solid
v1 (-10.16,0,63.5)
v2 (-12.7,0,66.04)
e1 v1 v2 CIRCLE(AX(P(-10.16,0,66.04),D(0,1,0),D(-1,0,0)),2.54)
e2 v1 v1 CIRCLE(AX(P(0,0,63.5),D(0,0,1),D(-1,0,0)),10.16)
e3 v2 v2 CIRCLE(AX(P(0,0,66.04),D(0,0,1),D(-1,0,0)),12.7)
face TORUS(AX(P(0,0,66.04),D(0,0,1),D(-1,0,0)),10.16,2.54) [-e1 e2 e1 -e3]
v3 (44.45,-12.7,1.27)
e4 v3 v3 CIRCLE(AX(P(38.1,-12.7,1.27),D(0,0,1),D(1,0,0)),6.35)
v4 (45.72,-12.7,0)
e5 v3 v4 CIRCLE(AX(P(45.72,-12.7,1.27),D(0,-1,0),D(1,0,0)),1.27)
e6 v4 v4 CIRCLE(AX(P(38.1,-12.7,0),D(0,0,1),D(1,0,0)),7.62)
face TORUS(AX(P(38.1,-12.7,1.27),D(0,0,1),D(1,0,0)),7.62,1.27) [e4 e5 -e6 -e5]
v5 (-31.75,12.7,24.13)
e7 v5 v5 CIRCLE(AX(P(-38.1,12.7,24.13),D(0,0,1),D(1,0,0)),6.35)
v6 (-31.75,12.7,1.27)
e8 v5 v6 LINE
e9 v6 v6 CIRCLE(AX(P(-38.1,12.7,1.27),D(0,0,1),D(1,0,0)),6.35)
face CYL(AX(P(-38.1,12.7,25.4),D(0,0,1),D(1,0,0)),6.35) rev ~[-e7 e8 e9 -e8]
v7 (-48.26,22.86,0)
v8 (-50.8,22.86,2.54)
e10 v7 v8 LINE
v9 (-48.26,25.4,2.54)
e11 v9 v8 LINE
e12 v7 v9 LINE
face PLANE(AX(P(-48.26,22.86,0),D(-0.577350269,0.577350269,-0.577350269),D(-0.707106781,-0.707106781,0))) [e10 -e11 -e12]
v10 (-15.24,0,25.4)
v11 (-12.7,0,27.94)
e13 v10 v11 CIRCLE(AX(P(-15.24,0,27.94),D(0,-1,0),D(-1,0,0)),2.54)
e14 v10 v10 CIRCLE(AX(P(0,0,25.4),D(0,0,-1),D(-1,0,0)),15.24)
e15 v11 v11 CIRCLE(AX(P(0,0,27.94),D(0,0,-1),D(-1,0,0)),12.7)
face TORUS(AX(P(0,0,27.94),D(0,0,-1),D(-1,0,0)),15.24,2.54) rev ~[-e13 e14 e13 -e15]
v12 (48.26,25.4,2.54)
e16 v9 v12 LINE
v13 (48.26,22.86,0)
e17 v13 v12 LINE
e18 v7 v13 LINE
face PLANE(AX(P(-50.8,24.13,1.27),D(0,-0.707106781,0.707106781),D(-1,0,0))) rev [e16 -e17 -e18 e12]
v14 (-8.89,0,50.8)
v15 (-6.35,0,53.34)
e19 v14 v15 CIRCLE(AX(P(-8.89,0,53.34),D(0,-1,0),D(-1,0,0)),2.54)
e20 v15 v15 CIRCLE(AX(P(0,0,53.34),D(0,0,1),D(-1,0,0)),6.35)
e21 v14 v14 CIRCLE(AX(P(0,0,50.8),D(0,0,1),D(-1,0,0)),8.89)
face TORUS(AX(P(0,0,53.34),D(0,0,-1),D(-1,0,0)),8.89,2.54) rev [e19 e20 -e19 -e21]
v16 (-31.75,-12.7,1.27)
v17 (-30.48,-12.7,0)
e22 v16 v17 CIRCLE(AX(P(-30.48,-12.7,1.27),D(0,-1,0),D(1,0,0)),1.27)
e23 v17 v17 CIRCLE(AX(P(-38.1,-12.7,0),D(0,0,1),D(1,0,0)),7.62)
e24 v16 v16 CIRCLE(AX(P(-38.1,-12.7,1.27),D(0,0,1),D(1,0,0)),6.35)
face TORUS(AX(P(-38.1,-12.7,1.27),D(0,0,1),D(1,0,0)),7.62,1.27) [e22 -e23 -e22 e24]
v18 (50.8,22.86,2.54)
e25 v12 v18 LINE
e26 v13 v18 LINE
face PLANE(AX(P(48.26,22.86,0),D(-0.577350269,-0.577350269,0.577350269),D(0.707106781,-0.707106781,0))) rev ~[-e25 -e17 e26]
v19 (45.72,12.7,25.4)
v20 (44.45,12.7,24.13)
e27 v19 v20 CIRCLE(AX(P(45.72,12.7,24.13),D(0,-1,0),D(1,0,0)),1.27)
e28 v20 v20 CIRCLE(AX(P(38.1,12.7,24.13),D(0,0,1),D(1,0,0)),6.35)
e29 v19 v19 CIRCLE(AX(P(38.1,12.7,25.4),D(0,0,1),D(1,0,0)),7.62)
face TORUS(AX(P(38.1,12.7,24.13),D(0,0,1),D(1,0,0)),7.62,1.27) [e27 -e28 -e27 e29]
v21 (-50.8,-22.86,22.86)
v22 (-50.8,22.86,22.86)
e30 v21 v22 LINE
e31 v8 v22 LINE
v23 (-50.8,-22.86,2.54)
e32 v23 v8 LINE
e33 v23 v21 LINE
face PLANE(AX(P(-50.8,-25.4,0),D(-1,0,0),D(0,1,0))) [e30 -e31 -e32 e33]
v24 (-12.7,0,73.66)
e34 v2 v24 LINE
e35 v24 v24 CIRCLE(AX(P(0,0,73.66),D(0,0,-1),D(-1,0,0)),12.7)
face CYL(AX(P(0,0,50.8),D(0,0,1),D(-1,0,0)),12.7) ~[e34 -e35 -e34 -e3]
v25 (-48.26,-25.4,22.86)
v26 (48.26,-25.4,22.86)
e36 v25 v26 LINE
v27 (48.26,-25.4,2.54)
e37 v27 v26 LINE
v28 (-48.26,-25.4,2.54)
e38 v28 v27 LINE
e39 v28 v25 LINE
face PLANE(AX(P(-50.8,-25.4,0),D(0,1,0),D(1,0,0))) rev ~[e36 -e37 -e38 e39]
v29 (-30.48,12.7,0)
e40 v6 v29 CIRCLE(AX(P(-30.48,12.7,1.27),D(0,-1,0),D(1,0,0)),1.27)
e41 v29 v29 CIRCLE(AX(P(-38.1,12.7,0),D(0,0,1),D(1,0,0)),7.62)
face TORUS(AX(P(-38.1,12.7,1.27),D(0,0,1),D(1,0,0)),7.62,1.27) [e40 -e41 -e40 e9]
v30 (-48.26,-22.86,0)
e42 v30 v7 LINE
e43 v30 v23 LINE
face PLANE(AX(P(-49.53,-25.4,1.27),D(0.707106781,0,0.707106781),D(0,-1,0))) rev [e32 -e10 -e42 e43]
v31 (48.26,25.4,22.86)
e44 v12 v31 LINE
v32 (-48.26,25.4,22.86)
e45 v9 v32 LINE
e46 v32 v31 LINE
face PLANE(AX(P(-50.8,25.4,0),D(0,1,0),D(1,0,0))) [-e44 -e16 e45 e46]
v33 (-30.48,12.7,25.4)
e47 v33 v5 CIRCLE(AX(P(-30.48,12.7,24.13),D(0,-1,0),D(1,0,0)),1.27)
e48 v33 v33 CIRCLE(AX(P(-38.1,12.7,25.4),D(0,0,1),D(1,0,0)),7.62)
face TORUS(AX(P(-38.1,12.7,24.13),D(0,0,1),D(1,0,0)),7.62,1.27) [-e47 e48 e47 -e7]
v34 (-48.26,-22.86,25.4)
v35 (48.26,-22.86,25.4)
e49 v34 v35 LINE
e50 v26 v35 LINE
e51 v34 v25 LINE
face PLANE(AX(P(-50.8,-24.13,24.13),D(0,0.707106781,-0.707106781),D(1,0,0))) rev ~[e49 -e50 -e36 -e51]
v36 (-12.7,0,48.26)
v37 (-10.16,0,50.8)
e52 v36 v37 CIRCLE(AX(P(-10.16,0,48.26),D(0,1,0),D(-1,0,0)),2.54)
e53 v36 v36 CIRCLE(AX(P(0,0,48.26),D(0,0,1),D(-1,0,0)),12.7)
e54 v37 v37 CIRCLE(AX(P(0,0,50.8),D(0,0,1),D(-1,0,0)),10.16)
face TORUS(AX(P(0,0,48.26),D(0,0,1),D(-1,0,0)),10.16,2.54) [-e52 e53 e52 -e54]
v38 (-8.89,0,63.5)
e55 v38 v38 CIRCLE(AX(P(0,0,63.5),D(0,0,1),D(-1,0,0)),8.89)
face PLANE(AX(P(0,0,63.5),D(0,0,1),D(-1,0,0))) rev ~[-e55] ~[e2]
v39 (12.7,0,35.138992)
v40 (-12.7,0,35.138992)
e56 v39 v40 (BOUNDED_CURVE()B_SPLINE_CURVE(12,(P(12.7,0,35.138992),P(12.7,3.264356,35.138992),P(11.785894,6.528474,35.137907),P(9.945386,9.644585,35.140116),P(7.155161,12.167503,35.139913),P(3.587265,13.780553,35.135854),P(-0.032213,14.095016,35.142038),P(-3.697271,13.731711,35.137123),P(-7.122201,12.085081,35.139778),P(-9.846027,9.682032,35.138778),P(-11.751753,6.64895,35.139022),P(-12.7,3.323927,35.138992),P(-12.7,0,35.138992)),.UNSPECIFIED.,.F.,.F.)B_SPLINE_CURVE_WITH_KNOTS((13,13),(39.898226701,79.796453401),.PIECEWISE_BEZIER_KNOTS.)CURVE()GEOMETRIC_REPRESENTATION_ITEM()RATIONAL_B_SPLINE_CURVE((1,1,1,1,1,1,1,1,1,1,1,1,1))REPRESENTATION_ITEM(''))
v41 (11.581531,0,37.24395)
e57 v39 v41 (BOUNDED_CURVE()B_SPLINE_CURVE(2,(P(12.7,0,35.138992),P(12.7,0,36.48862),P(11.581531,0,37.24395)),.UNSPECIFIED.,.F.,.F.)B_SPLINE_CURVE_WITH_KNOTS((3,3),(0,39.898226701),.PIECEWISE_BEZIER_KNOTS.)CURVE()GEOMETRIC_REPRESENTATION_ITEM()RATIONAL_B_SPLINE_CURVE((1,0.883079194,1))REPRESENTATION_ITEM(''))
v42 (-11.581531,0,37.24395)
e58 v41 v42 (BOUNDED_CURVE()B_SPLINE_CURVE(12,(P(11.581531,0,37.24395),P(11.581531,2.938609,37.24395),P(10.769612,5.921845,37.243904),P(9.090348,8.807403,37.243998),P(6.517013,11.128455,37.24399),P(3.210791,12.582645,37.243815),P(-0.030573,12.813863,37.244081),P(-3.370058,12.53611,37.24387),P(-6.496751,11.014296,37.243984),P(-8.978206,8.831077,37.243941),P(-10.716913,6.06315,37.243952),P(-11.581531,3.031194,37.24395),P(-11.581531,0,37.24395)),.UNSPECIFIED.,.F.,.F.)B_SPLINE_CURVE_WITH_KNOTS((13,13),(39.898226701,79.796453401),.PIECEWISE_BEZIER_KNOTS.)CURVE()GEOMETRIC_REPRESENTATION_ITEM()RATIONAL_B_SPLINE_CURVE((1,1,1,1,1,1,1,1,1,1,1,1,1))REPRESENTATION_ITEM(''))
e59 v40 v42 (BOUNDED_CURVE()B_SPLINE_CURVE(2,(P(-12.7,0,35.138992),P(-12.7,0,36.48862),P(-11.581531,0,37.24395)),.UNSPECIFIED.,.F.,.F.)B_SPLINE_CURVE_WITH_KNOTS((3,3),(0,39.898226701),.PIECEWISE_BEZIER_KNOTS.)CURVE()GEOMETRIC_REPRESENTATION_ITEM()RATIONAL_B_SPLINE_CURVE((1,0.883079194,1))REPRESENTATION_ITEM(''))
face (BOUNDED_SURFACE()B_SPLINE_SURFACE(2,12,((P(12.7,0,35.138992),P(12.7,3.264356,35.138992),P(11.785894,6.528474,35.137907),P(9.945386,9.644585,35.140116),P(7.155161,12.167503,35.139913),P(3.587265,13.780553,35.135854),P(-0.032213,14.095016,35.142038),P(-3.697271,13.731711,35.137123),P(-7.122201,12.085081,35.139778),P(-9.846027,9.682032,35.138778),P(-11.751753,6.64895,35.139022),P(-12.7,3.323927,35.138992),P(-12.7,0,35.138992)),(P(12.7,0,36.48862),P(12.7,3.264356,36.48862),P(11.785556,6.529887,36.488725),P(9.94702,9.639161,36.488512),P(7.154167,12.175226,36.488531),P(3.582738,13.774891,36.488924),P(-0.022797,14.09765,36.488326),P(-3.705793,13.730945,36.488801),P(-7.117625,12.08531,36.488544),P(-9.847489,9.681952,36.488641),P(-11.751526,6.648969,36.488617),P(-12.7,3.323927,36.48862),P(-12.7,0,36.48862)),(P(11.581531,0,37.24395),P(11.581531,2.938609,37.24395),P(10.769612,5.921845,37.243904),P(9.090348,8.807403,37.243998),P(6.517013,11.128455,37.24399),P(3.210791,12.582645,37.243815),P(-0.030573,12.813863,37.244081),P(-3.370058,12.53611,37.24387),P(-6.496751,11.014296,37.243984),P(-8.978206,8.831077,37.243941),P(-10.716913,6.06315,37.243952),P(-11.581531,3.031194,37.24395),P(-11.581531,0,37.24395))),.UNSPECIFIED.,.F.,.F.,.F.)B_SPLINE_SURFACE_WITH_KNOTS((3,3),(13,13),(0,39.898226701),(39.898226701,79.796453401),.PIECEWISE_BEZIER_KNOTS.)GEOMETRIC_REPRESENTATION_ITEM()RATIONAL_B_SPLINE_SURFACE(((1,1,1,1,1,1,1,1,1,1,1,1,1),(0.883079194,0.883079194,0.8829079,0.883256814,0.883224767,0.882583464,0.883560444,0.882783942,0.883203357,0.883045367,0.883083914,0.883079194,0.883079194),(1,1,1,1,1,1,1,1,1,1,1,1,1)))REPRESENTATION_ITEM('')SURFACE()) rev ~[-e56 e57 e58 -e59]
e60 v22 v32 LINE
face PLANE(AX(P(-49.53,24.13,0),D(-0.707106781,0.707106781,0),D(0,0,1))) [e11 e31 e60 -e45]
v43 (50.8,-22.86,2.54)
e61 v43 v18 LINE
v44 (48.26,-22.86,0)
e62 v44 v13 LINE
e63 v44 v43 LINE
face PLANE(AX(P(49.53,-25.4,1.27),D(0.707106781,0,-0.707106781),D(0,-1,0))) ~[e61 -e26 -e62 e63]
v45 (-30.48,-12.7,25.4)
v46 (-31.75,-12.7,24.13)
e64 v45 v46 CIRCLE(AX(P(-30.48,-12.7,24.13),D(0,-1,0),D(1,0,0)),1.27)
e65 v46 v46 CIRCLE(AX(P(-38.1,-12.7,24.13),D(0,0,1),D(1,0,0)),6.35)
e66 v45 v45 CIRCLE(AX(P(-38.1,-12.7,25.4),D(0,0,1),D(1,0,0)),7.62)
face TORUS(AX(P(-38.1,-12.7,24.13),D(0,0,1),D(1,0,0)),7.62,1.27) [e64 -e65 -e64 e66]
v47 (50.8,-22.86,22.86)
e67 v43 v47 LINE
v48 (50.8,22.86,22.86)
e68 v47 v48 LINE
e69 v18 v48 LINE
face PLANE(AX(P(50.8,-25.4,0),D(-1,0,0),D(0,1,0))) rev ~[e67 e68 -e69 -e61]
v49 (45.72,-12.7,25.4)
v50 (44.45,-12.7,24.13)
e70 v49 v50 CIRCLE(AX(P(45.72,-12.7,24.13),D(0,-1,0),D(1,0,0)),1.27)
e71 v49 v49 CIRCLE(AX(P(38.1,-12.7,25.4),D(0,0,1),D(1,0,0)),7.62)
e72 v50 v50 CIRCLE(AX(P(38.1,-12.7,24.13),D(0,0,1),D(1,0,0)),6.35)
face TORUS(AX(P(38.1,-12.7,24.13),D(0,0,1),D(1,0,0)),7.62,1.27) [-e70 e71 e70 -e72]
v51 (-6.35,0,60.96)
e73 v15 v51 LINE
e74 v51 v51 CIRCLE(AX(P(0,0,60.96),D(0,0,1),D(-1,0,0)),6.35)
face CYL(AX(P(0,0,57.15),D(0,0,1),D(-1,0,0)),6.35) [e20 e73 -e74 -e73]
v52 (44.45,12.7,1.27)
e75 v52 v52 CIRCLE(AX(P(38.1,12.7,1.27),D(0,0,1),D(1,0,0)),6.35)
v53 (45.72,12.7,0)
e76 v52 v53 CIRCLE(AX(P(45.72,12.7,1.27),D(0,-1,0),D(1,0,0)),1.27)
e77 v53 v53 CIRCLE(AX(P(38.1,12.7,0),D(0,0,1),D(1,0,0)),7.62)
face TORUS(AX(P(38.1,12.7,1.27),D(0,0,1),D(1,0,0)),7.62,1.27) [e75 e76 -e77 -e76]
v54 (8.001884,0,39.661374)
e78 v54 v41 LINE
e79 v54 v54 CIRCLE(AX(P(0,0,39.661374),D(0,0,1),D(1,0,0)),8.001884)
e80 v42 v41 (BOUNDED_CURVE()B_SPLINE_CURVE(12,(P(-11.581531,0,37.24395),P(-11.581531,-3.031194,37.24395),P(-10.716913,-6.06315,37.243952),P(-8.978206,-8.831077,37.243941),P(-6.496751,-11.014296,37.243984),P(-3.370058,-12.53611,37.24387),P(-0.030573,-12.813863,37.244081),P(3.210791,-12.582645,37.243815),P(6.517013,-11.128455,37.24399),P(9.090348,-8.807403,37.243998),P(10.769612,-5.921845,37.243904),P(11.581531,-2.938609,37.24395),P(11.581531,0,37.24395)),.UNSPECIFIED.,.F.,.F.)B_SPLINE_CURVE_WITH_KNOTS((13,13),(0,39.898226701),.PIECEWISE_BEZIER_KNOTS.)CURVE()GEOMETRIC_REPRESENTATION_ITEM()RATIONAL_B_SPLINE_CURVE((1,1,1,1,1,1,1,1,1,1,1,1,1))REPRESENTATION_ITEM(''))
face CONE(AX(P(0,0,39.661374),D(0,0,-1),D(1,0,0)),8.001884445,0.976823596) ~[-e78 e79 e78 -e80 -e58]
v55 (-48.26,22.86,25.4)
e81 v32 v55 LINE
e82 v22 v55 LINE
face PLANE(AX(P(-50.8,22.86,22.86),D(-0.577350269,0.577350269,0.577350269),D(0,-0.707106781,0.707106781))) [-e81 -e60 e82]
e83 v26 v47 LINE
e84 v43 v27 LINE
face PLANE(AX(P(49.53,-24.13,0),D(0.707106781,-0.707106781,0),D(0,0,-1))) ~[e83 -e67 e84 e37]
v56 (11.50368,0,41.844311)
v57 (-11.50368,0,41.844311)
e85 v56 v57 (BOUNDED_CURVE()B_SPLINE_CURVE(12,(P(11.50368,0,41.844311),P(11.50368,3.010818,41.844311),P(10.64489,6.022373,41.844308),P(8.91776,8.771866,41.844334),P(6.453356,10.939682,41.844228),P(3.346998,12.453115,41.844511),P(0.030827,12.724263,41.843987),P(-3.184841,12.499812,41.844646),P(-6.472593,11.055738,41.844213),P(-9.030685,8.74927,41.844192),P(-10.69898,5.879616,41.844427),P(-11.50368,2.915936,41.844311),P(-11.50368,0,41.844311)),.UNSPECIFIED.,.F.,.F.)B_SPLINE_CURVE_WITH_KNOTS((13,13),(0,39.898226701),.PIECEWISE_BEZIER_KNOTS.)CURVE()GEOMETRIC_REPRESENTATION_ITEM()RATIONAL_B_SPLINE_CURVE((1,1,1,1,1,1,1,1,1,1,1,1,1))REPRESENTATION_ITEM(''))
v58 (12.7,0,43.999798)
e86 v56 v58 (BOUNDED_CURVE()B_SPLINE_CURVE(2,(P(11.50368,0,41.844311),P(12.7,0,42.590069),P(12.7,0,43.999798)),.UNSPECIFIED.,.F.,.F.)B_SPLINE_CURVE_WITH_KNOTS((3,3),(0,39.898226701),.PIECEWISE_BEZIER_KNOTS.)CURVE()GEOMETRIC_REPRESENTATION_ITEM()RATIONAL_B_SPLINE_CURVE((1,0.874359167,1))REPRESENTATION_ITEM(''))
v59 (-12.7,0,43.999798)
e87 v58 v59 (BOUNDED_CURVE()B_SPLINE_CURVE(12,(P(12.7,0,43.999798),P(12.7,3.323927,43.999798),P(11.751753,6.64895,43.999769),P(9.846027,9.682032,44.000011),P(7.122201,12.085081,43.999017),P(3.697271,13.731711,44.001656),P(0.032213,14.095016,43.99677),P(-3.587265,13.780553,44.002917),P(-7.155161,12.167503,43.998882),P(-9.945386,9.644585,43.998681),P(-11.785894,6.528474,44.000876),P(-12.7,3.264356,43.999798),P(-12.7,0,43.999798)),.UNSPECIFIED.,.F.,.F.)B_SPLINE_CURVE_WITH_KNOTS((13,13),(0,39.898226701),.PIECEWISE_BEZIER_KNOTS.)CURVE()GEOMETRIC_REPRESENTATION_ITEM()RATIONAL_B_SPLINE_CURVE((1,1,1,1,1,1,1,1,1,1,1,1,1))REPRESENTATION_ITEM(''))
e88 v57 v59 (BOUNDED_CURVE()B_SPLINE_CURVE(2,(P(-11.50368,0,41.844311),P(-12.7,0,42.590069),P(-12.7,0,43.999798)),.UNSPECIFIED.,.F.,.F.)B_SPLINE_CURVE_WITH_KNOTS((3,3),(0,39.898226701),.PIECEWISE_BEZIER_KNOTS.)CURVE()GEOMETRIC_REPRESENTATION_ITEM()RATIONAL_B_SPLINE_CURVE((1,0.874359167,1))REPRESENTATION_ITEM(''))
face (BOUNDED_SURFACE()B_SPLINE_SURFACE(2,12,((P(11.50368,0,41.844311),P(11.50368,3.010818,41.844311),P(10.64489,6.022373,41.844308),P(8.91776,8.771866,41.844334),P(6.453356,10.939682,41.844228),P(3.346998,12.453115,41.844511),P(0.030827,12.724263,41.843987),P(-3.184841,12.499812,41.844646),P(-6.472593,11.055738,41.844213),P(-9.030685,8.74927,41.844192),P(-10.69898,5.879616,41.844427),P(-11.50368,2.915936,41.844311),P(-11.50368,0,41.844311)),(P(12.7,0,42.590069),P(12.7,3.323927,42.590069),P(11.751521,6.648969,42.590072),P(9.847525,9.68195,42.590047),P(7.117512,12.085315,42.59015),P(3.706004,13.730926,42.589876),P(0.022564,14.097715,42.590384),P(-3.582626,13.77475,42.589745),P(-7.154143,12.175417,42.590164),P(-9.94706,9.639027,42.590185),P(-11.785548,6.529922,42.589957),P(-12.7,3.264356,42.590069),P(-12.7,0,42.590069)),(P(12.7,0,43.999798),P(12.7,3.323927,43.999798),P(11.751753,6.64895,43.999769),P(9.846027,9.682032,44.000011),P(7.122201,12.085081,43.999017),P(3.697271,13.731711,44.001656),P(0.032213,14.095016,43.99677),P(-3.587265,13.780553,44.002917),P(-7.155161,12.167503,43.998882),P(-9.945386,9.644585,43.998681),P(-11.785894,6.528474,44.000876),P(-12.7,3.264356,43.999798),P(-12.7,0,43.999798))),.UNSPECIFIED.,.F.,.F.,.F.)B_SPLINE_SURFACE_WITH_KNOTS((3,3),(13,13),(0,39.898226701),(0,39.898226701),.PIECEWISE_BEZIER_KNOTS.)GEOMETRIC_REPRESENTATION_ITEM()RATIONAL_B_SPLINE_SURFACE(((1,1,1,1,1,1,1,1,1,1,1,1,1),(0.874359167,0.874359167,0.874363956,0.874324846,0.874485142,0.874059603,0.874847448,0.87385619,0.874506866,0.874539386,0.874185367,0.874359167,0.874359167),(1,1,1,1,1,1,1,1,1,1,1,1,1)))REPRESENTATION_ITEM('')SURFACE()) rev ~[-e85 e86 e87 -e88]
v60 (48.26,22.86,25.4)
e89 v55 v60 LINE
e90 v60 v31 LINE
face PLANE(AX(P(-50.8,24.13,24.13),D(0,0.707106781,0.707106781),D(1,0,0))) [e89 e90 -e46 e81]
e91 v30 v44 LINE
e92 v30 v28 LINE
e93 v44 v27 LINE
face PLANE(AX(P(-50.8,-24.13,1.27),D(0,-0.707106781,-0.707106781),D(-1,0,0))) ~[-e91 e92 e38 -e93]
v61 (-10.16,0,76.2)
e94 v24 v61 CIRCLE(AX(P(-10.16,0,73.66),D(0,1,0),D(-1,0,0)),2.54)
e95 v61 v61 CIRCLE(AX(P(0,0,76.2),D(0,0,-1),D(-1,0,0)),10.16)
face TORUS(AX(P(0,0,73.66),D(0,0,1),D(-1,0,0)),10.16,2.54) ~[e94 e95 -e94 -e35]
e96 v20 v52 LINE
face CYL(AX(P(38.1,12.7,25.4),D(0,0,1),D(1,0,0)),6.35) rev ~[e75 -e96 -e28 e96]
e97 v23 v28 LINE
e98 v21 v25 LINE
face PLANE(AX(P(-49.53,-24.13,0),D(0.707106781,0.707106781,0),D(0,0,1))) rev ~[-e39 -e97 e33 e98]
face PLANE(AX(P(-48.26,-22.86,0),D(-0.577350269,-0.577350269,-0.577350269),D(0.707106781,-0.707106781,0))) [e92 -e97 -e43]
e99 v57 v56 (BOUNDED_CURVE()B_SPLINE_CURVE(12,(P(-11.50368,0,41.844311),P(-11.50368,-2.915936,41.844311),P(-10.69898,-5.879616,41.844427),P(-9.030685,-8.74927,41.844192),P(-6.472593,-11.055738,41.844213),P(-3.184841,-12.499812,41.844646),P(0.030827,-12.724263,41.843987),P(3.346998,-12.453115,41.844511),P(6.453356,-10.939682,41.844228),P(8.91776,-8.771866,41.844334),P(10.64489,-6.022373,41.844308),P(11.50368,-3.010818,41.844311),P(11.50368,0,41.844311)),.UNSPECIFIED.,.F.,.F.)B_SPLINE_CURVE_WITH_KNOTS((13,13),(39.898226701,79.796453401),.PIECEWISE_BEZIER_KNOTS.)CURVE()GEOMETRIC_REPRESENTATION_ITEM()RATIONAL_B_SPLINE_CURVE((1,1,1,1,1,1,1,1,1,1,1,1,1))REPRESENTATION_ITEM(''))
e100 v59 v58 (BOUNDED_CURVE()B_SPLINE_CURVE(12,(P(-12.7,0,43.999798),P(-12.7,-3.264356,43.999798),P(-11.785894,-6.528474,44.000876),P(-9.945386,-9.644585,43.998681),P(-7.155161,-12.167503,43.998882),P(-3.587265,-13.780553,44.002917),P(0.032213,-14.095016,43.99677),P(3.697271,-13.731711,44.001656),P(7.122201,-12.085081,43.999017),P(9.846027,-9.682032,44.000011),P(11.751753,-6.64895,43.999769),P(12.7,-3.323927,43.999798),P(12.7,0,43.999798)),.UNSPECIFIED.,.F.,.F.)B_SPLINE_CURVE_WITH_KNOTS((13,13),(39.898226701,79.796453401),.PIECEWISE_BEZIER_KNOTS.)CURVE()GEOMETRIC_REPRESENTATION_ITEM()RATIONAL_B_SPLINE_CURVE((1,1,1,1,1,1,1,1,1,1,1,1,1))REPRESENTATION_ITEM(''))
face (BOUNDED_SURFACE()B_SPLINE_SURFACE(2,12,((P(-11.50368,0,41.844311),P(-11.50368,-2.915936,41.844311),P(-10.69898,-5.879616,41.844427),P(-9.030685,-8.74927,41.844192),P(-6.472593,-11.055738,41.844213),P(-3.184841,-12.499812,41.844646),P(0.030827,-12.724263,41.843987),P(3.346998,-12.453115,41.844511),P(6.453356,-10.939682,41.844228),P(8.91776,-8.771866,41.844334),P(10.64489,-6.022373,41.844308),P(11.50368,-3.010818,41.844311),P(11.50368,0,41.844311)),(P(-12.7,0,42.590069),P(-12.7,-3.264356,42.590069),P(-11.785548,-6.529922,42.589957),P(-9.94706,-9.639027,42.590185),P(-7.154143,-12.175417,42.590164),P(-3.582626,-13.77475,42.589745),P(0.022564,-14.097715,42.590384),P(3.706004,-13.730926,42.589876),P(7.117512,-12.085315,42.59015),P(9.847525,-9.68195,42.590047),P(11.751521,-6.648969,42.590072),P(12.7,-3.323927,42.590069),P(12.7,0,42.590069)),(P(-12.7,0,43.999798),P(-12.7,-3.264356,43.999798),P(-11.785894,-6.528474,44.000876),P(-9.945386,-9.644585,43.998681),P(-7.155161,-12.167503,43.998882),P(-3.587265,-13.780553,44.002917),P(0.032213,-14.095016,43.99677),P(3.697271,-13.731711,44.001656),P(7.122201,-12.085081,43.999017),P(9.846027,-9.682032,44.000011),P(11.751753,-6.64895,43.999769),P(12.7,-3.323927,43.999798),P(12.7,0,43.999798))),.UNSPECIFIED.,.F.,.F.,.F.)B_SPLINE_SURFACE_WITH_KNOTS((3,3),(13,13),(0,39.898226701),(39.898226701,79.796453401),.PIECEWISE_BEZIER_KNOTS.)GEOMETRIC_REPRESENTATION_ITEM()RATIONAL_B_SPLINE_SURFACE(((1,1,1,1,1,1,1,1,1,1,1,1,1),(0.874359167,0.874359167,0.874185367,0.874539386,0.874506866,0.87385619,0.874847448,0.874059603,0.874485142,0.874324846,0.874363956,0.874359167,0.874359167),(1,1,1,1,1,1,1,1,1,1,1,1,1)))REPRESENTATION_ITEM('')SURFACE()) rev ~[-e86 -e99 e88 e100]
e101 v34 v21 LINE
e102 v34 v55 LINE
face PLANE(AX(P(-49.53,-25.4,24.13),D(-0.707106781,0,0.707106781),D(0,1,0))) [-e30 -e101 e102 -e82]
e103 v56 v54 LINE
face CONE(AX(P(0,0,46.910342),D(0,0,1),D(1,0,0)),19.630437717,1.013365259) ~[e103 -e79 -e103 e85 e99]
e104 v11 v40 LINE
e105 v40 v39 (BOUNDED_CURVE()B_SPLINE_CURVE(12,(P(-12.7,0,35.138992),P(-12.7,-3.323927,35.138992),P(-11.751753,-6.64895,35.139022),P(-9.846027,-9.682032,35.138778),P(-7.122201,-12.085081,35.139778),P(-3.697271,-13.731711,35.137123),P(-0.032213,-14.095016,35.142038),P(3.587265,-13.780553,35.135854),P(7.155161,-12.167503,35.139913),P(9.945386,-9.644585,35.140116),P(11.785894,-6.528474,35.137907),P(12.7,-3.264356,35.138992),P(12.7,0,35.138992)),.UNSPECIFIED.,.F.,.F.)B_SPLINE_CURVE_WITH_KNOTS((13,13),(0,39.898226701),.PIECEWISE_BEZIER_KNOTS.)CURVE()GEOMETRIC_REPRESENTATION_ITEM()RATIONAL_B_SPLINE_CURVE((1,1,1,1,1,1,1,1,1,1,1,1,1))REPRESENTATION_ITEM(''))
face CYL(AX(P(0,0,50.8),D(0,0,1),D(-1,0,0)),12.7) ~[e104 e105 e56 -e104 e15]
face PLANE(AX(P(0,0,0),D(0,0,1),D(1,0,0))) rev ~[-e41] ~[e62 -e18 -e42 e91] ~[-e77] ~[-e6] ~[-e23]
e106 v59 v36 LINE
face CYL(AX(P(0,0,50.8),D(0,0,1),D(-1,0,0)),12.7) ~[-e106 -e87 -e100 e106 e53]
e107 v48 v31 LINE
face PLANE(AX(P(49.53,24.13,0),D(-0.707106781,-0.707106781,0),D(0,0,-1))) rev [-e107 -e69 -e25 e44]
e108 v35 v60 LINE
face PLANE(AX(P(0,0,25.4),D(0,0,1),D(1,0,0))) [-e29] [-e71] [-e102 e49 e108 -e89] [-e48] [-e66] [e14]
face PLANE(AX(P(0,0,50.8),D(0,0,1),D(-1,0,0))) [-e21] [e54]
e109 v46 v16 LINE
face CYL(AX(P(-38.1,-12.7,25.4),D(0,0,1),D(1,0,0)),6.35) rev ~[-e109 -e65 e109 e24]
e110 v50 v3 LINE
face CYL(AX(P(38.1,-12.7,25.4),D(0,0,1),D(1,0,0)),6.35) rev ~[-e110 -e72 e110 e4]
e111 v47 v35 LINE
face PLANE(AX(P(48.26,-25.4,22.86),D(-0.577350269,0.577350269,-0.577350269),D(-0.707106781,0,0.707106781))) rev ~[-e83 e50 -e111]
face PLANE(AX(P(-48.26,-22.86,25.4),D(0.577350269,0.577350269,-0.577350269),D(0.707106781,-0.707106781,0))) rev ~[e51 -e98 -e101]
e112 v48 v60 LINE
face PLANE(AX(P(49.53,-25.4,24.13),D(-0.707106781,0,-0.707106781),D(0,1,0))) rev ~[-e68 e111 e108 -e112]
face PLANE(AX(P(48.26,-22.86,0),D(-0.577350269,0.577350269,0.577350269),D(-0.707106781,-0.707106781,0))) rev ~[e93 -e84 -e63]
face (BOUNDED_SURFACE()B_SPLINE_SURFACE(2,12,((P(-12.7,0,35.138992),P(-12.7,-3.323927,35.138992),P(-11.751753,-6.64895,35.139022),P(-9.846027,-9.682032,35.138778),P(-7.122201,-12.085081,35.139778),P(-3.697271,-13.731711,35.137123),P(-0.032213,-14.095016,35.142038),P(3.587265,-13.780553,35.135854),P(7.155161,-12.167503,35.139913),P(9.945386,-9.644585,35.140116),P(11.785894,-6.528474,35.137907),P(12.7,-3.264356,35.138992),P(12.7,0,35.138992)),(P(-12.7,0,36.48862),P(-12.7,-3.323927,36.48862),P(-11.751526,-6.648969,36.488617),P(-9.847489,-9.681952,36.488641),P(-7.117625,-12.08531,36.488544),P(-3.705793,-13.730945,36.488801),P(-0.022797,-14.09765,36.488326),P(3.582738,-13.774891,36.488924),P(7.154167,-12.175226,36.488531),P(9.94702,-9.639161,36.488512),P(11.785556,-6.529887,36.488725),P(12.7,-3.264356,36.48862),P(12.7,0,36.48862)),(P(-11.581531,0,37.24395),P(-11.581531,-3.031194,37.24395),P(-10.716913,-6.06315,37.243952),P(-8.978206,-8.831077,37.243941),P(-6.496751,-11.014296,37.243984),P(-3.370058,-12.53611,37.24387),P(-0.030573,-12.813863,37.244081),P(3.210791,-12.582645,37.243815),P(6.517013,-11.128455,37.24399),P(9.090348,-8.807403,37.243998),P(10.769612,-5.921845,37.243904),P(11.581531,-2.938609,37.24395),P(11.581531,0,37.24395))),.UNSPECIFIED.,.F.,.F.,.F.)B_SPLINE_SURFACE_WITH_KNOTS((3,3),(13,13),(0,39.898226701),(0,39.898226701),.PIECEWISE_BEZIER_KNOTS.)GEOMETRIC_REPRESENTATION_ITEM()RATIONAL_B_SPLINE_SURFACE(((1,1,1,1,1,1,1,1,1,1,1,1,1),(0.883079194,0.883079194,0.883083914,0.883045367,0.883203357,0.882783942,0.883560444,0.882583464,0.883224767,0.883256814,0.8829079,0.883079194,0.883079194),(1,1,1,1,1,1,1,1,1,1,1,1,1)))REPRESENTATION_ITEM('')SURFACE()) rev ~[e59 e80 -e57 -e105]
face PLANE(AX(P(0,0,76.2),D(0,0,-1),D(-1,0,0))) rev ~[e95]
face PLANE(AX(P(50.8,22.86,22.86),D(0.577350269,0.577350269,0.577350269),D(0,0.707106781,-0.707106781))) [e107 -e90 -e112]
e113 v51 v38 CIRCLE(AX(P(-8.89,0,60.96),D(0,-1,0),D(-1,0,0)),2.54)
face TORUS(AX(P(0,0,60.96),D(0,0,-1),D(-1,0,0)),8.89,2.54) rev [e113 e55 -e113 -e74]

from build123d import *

# Parameters (mm, degrees)
F0_W     = 101.6
F0_H     = 50.8
F1_DEPTH = 25.4
F2_R     = 6.35
F3_DEPTH = 25.401
F4_W     = 12.7
F4_H     = 50.8
F6_W     = 10.517051357
F6_H     = 12.7
F8_R     = 2.54
F9_SIZE  = 2.54
F10_R    = 1.27
F13_R    = 2.54


with BuildPart() as f1:
    # F0 (on Top) → F1 (new body)
    with BuildSketch(Plane.XY):
        Rectangle(F0_W, F0_H)
    extrude(amount=F1_DEPTH)

    # F2 (on face) → F3 (cut, through all)
    with BuildSketch(Plane.XY.offset(25.4)):
        with Locations((-38.1, 12.7)):
            Circle(F2_R)
        with Locations((-38.1, -12.7)):
            Circle(F2_R)
        with Locations((38.1, -12.7)):
            Circle(F2_R)
        with Locations((38.1, 12.7)):
            Circle(F2_R)
    extrude(amount=-F3_DEPTH, mode=Mode.SUBTRACT)

    # F4 (on Front) → F5 (revolve)
    with BuildSketch(Plane.XZ):
        with Locations((-6.35, 50.8)):
            Rectangle(F4_W, F4_H)
    revolve(axis=Axis((0, 0, 50.8), (0, 0, -1)))

    # F6 (on Front) → F7 (revolve, cut)
    with BuildSketch(Plane.XZ):
        with Locations((-11.6085256785, 57.15)):
            Rectangle(F6_W, F6_H)
    revolve(axis=Axis((0, 0, 42.492736131), (0, 0, 1)), mode=Mode.SUBTRACT)

    # F8
    f8_edges = [f1.edges().sort_by_distance(p)[0] for p in [
        (12.7, 0, 50.8),
        (12.7, 0, 63.5),
        (12.7, 0, 25.4),
        (12.7, 0, 76.2),
        (6.35, 0, 50.8),
        (6.35, 0, 63.5),
    ]]
    fillet(f8_edges, radius=F8_R)

    # F9
    f9_edges = [f1.edges().sort_by_distance(p)[0] for p in [
        (0, 25.4, 25.4),
        (50.8, 0, 25.4),
        (50.8, 25.4, 12.7),
        (-50.8, 25.4, 12.7),
        (0, 25.4, 0),
        (50.8, -25.4, 12.7),
        (50.8, 0, 0),
        (-50.8, -25.4, 12.7),
        (-50.8, 0, 0),
        (-50.8, 0, 25.4),
        (0, -25.4, 0),
        (0, -25.4, 25.4),
    ]]
    chamfer(f9_edges, length=F9_SIZE)

    # F10
    f10_edges = [f1.edges().sort_by_distance(p)[0] for p in [
        (-44.45, 12.7, 25.4),
        (-31.75, 12.7, 12.7),
        (-44.45, 12.7, 0),
        (-44.45, -12.7, 25.4),
        (-31.75, -12.7, 12.7),
        (-44.45, -12.7, 0),
        (31.75, -12.7, 25.4),
        (44.45, -12.7, 12.7),
        (31.75, -12.7, 0),
        (31.75, 12.7, 25.4),
        (44.45, 12.7, 12.7),
        (31.75, 12.7, 0),
    ]]
    fillet(f10_edges, radius=F10_R)

    # F11 (on Front) → F12 (revolve, cut)
    with BuildSketch(Plane.XZ):
        Polygon((19.6304377168, 46.9103418291), (8.0018844455, 39.6613739431), (19.6304377168, 31.8083241582), align=None)
    revolve(axis=Axis((0, 0, 30.9765487909), (0, 0, 1)), mode=Mode.SUBTRACT)

    # F13
    f13_edges = [f1.edges().sort_by_distance(p)[0] for p in [
        (0, 12.7, 42.590069),
        (0, -12.7, 42.590069),
        (0, -12.7, 36.48862),
        (0, 12.7, 36.48862),
    ]]
    fillet(f13_edges, radius=F13_R)


solid = f1.part
